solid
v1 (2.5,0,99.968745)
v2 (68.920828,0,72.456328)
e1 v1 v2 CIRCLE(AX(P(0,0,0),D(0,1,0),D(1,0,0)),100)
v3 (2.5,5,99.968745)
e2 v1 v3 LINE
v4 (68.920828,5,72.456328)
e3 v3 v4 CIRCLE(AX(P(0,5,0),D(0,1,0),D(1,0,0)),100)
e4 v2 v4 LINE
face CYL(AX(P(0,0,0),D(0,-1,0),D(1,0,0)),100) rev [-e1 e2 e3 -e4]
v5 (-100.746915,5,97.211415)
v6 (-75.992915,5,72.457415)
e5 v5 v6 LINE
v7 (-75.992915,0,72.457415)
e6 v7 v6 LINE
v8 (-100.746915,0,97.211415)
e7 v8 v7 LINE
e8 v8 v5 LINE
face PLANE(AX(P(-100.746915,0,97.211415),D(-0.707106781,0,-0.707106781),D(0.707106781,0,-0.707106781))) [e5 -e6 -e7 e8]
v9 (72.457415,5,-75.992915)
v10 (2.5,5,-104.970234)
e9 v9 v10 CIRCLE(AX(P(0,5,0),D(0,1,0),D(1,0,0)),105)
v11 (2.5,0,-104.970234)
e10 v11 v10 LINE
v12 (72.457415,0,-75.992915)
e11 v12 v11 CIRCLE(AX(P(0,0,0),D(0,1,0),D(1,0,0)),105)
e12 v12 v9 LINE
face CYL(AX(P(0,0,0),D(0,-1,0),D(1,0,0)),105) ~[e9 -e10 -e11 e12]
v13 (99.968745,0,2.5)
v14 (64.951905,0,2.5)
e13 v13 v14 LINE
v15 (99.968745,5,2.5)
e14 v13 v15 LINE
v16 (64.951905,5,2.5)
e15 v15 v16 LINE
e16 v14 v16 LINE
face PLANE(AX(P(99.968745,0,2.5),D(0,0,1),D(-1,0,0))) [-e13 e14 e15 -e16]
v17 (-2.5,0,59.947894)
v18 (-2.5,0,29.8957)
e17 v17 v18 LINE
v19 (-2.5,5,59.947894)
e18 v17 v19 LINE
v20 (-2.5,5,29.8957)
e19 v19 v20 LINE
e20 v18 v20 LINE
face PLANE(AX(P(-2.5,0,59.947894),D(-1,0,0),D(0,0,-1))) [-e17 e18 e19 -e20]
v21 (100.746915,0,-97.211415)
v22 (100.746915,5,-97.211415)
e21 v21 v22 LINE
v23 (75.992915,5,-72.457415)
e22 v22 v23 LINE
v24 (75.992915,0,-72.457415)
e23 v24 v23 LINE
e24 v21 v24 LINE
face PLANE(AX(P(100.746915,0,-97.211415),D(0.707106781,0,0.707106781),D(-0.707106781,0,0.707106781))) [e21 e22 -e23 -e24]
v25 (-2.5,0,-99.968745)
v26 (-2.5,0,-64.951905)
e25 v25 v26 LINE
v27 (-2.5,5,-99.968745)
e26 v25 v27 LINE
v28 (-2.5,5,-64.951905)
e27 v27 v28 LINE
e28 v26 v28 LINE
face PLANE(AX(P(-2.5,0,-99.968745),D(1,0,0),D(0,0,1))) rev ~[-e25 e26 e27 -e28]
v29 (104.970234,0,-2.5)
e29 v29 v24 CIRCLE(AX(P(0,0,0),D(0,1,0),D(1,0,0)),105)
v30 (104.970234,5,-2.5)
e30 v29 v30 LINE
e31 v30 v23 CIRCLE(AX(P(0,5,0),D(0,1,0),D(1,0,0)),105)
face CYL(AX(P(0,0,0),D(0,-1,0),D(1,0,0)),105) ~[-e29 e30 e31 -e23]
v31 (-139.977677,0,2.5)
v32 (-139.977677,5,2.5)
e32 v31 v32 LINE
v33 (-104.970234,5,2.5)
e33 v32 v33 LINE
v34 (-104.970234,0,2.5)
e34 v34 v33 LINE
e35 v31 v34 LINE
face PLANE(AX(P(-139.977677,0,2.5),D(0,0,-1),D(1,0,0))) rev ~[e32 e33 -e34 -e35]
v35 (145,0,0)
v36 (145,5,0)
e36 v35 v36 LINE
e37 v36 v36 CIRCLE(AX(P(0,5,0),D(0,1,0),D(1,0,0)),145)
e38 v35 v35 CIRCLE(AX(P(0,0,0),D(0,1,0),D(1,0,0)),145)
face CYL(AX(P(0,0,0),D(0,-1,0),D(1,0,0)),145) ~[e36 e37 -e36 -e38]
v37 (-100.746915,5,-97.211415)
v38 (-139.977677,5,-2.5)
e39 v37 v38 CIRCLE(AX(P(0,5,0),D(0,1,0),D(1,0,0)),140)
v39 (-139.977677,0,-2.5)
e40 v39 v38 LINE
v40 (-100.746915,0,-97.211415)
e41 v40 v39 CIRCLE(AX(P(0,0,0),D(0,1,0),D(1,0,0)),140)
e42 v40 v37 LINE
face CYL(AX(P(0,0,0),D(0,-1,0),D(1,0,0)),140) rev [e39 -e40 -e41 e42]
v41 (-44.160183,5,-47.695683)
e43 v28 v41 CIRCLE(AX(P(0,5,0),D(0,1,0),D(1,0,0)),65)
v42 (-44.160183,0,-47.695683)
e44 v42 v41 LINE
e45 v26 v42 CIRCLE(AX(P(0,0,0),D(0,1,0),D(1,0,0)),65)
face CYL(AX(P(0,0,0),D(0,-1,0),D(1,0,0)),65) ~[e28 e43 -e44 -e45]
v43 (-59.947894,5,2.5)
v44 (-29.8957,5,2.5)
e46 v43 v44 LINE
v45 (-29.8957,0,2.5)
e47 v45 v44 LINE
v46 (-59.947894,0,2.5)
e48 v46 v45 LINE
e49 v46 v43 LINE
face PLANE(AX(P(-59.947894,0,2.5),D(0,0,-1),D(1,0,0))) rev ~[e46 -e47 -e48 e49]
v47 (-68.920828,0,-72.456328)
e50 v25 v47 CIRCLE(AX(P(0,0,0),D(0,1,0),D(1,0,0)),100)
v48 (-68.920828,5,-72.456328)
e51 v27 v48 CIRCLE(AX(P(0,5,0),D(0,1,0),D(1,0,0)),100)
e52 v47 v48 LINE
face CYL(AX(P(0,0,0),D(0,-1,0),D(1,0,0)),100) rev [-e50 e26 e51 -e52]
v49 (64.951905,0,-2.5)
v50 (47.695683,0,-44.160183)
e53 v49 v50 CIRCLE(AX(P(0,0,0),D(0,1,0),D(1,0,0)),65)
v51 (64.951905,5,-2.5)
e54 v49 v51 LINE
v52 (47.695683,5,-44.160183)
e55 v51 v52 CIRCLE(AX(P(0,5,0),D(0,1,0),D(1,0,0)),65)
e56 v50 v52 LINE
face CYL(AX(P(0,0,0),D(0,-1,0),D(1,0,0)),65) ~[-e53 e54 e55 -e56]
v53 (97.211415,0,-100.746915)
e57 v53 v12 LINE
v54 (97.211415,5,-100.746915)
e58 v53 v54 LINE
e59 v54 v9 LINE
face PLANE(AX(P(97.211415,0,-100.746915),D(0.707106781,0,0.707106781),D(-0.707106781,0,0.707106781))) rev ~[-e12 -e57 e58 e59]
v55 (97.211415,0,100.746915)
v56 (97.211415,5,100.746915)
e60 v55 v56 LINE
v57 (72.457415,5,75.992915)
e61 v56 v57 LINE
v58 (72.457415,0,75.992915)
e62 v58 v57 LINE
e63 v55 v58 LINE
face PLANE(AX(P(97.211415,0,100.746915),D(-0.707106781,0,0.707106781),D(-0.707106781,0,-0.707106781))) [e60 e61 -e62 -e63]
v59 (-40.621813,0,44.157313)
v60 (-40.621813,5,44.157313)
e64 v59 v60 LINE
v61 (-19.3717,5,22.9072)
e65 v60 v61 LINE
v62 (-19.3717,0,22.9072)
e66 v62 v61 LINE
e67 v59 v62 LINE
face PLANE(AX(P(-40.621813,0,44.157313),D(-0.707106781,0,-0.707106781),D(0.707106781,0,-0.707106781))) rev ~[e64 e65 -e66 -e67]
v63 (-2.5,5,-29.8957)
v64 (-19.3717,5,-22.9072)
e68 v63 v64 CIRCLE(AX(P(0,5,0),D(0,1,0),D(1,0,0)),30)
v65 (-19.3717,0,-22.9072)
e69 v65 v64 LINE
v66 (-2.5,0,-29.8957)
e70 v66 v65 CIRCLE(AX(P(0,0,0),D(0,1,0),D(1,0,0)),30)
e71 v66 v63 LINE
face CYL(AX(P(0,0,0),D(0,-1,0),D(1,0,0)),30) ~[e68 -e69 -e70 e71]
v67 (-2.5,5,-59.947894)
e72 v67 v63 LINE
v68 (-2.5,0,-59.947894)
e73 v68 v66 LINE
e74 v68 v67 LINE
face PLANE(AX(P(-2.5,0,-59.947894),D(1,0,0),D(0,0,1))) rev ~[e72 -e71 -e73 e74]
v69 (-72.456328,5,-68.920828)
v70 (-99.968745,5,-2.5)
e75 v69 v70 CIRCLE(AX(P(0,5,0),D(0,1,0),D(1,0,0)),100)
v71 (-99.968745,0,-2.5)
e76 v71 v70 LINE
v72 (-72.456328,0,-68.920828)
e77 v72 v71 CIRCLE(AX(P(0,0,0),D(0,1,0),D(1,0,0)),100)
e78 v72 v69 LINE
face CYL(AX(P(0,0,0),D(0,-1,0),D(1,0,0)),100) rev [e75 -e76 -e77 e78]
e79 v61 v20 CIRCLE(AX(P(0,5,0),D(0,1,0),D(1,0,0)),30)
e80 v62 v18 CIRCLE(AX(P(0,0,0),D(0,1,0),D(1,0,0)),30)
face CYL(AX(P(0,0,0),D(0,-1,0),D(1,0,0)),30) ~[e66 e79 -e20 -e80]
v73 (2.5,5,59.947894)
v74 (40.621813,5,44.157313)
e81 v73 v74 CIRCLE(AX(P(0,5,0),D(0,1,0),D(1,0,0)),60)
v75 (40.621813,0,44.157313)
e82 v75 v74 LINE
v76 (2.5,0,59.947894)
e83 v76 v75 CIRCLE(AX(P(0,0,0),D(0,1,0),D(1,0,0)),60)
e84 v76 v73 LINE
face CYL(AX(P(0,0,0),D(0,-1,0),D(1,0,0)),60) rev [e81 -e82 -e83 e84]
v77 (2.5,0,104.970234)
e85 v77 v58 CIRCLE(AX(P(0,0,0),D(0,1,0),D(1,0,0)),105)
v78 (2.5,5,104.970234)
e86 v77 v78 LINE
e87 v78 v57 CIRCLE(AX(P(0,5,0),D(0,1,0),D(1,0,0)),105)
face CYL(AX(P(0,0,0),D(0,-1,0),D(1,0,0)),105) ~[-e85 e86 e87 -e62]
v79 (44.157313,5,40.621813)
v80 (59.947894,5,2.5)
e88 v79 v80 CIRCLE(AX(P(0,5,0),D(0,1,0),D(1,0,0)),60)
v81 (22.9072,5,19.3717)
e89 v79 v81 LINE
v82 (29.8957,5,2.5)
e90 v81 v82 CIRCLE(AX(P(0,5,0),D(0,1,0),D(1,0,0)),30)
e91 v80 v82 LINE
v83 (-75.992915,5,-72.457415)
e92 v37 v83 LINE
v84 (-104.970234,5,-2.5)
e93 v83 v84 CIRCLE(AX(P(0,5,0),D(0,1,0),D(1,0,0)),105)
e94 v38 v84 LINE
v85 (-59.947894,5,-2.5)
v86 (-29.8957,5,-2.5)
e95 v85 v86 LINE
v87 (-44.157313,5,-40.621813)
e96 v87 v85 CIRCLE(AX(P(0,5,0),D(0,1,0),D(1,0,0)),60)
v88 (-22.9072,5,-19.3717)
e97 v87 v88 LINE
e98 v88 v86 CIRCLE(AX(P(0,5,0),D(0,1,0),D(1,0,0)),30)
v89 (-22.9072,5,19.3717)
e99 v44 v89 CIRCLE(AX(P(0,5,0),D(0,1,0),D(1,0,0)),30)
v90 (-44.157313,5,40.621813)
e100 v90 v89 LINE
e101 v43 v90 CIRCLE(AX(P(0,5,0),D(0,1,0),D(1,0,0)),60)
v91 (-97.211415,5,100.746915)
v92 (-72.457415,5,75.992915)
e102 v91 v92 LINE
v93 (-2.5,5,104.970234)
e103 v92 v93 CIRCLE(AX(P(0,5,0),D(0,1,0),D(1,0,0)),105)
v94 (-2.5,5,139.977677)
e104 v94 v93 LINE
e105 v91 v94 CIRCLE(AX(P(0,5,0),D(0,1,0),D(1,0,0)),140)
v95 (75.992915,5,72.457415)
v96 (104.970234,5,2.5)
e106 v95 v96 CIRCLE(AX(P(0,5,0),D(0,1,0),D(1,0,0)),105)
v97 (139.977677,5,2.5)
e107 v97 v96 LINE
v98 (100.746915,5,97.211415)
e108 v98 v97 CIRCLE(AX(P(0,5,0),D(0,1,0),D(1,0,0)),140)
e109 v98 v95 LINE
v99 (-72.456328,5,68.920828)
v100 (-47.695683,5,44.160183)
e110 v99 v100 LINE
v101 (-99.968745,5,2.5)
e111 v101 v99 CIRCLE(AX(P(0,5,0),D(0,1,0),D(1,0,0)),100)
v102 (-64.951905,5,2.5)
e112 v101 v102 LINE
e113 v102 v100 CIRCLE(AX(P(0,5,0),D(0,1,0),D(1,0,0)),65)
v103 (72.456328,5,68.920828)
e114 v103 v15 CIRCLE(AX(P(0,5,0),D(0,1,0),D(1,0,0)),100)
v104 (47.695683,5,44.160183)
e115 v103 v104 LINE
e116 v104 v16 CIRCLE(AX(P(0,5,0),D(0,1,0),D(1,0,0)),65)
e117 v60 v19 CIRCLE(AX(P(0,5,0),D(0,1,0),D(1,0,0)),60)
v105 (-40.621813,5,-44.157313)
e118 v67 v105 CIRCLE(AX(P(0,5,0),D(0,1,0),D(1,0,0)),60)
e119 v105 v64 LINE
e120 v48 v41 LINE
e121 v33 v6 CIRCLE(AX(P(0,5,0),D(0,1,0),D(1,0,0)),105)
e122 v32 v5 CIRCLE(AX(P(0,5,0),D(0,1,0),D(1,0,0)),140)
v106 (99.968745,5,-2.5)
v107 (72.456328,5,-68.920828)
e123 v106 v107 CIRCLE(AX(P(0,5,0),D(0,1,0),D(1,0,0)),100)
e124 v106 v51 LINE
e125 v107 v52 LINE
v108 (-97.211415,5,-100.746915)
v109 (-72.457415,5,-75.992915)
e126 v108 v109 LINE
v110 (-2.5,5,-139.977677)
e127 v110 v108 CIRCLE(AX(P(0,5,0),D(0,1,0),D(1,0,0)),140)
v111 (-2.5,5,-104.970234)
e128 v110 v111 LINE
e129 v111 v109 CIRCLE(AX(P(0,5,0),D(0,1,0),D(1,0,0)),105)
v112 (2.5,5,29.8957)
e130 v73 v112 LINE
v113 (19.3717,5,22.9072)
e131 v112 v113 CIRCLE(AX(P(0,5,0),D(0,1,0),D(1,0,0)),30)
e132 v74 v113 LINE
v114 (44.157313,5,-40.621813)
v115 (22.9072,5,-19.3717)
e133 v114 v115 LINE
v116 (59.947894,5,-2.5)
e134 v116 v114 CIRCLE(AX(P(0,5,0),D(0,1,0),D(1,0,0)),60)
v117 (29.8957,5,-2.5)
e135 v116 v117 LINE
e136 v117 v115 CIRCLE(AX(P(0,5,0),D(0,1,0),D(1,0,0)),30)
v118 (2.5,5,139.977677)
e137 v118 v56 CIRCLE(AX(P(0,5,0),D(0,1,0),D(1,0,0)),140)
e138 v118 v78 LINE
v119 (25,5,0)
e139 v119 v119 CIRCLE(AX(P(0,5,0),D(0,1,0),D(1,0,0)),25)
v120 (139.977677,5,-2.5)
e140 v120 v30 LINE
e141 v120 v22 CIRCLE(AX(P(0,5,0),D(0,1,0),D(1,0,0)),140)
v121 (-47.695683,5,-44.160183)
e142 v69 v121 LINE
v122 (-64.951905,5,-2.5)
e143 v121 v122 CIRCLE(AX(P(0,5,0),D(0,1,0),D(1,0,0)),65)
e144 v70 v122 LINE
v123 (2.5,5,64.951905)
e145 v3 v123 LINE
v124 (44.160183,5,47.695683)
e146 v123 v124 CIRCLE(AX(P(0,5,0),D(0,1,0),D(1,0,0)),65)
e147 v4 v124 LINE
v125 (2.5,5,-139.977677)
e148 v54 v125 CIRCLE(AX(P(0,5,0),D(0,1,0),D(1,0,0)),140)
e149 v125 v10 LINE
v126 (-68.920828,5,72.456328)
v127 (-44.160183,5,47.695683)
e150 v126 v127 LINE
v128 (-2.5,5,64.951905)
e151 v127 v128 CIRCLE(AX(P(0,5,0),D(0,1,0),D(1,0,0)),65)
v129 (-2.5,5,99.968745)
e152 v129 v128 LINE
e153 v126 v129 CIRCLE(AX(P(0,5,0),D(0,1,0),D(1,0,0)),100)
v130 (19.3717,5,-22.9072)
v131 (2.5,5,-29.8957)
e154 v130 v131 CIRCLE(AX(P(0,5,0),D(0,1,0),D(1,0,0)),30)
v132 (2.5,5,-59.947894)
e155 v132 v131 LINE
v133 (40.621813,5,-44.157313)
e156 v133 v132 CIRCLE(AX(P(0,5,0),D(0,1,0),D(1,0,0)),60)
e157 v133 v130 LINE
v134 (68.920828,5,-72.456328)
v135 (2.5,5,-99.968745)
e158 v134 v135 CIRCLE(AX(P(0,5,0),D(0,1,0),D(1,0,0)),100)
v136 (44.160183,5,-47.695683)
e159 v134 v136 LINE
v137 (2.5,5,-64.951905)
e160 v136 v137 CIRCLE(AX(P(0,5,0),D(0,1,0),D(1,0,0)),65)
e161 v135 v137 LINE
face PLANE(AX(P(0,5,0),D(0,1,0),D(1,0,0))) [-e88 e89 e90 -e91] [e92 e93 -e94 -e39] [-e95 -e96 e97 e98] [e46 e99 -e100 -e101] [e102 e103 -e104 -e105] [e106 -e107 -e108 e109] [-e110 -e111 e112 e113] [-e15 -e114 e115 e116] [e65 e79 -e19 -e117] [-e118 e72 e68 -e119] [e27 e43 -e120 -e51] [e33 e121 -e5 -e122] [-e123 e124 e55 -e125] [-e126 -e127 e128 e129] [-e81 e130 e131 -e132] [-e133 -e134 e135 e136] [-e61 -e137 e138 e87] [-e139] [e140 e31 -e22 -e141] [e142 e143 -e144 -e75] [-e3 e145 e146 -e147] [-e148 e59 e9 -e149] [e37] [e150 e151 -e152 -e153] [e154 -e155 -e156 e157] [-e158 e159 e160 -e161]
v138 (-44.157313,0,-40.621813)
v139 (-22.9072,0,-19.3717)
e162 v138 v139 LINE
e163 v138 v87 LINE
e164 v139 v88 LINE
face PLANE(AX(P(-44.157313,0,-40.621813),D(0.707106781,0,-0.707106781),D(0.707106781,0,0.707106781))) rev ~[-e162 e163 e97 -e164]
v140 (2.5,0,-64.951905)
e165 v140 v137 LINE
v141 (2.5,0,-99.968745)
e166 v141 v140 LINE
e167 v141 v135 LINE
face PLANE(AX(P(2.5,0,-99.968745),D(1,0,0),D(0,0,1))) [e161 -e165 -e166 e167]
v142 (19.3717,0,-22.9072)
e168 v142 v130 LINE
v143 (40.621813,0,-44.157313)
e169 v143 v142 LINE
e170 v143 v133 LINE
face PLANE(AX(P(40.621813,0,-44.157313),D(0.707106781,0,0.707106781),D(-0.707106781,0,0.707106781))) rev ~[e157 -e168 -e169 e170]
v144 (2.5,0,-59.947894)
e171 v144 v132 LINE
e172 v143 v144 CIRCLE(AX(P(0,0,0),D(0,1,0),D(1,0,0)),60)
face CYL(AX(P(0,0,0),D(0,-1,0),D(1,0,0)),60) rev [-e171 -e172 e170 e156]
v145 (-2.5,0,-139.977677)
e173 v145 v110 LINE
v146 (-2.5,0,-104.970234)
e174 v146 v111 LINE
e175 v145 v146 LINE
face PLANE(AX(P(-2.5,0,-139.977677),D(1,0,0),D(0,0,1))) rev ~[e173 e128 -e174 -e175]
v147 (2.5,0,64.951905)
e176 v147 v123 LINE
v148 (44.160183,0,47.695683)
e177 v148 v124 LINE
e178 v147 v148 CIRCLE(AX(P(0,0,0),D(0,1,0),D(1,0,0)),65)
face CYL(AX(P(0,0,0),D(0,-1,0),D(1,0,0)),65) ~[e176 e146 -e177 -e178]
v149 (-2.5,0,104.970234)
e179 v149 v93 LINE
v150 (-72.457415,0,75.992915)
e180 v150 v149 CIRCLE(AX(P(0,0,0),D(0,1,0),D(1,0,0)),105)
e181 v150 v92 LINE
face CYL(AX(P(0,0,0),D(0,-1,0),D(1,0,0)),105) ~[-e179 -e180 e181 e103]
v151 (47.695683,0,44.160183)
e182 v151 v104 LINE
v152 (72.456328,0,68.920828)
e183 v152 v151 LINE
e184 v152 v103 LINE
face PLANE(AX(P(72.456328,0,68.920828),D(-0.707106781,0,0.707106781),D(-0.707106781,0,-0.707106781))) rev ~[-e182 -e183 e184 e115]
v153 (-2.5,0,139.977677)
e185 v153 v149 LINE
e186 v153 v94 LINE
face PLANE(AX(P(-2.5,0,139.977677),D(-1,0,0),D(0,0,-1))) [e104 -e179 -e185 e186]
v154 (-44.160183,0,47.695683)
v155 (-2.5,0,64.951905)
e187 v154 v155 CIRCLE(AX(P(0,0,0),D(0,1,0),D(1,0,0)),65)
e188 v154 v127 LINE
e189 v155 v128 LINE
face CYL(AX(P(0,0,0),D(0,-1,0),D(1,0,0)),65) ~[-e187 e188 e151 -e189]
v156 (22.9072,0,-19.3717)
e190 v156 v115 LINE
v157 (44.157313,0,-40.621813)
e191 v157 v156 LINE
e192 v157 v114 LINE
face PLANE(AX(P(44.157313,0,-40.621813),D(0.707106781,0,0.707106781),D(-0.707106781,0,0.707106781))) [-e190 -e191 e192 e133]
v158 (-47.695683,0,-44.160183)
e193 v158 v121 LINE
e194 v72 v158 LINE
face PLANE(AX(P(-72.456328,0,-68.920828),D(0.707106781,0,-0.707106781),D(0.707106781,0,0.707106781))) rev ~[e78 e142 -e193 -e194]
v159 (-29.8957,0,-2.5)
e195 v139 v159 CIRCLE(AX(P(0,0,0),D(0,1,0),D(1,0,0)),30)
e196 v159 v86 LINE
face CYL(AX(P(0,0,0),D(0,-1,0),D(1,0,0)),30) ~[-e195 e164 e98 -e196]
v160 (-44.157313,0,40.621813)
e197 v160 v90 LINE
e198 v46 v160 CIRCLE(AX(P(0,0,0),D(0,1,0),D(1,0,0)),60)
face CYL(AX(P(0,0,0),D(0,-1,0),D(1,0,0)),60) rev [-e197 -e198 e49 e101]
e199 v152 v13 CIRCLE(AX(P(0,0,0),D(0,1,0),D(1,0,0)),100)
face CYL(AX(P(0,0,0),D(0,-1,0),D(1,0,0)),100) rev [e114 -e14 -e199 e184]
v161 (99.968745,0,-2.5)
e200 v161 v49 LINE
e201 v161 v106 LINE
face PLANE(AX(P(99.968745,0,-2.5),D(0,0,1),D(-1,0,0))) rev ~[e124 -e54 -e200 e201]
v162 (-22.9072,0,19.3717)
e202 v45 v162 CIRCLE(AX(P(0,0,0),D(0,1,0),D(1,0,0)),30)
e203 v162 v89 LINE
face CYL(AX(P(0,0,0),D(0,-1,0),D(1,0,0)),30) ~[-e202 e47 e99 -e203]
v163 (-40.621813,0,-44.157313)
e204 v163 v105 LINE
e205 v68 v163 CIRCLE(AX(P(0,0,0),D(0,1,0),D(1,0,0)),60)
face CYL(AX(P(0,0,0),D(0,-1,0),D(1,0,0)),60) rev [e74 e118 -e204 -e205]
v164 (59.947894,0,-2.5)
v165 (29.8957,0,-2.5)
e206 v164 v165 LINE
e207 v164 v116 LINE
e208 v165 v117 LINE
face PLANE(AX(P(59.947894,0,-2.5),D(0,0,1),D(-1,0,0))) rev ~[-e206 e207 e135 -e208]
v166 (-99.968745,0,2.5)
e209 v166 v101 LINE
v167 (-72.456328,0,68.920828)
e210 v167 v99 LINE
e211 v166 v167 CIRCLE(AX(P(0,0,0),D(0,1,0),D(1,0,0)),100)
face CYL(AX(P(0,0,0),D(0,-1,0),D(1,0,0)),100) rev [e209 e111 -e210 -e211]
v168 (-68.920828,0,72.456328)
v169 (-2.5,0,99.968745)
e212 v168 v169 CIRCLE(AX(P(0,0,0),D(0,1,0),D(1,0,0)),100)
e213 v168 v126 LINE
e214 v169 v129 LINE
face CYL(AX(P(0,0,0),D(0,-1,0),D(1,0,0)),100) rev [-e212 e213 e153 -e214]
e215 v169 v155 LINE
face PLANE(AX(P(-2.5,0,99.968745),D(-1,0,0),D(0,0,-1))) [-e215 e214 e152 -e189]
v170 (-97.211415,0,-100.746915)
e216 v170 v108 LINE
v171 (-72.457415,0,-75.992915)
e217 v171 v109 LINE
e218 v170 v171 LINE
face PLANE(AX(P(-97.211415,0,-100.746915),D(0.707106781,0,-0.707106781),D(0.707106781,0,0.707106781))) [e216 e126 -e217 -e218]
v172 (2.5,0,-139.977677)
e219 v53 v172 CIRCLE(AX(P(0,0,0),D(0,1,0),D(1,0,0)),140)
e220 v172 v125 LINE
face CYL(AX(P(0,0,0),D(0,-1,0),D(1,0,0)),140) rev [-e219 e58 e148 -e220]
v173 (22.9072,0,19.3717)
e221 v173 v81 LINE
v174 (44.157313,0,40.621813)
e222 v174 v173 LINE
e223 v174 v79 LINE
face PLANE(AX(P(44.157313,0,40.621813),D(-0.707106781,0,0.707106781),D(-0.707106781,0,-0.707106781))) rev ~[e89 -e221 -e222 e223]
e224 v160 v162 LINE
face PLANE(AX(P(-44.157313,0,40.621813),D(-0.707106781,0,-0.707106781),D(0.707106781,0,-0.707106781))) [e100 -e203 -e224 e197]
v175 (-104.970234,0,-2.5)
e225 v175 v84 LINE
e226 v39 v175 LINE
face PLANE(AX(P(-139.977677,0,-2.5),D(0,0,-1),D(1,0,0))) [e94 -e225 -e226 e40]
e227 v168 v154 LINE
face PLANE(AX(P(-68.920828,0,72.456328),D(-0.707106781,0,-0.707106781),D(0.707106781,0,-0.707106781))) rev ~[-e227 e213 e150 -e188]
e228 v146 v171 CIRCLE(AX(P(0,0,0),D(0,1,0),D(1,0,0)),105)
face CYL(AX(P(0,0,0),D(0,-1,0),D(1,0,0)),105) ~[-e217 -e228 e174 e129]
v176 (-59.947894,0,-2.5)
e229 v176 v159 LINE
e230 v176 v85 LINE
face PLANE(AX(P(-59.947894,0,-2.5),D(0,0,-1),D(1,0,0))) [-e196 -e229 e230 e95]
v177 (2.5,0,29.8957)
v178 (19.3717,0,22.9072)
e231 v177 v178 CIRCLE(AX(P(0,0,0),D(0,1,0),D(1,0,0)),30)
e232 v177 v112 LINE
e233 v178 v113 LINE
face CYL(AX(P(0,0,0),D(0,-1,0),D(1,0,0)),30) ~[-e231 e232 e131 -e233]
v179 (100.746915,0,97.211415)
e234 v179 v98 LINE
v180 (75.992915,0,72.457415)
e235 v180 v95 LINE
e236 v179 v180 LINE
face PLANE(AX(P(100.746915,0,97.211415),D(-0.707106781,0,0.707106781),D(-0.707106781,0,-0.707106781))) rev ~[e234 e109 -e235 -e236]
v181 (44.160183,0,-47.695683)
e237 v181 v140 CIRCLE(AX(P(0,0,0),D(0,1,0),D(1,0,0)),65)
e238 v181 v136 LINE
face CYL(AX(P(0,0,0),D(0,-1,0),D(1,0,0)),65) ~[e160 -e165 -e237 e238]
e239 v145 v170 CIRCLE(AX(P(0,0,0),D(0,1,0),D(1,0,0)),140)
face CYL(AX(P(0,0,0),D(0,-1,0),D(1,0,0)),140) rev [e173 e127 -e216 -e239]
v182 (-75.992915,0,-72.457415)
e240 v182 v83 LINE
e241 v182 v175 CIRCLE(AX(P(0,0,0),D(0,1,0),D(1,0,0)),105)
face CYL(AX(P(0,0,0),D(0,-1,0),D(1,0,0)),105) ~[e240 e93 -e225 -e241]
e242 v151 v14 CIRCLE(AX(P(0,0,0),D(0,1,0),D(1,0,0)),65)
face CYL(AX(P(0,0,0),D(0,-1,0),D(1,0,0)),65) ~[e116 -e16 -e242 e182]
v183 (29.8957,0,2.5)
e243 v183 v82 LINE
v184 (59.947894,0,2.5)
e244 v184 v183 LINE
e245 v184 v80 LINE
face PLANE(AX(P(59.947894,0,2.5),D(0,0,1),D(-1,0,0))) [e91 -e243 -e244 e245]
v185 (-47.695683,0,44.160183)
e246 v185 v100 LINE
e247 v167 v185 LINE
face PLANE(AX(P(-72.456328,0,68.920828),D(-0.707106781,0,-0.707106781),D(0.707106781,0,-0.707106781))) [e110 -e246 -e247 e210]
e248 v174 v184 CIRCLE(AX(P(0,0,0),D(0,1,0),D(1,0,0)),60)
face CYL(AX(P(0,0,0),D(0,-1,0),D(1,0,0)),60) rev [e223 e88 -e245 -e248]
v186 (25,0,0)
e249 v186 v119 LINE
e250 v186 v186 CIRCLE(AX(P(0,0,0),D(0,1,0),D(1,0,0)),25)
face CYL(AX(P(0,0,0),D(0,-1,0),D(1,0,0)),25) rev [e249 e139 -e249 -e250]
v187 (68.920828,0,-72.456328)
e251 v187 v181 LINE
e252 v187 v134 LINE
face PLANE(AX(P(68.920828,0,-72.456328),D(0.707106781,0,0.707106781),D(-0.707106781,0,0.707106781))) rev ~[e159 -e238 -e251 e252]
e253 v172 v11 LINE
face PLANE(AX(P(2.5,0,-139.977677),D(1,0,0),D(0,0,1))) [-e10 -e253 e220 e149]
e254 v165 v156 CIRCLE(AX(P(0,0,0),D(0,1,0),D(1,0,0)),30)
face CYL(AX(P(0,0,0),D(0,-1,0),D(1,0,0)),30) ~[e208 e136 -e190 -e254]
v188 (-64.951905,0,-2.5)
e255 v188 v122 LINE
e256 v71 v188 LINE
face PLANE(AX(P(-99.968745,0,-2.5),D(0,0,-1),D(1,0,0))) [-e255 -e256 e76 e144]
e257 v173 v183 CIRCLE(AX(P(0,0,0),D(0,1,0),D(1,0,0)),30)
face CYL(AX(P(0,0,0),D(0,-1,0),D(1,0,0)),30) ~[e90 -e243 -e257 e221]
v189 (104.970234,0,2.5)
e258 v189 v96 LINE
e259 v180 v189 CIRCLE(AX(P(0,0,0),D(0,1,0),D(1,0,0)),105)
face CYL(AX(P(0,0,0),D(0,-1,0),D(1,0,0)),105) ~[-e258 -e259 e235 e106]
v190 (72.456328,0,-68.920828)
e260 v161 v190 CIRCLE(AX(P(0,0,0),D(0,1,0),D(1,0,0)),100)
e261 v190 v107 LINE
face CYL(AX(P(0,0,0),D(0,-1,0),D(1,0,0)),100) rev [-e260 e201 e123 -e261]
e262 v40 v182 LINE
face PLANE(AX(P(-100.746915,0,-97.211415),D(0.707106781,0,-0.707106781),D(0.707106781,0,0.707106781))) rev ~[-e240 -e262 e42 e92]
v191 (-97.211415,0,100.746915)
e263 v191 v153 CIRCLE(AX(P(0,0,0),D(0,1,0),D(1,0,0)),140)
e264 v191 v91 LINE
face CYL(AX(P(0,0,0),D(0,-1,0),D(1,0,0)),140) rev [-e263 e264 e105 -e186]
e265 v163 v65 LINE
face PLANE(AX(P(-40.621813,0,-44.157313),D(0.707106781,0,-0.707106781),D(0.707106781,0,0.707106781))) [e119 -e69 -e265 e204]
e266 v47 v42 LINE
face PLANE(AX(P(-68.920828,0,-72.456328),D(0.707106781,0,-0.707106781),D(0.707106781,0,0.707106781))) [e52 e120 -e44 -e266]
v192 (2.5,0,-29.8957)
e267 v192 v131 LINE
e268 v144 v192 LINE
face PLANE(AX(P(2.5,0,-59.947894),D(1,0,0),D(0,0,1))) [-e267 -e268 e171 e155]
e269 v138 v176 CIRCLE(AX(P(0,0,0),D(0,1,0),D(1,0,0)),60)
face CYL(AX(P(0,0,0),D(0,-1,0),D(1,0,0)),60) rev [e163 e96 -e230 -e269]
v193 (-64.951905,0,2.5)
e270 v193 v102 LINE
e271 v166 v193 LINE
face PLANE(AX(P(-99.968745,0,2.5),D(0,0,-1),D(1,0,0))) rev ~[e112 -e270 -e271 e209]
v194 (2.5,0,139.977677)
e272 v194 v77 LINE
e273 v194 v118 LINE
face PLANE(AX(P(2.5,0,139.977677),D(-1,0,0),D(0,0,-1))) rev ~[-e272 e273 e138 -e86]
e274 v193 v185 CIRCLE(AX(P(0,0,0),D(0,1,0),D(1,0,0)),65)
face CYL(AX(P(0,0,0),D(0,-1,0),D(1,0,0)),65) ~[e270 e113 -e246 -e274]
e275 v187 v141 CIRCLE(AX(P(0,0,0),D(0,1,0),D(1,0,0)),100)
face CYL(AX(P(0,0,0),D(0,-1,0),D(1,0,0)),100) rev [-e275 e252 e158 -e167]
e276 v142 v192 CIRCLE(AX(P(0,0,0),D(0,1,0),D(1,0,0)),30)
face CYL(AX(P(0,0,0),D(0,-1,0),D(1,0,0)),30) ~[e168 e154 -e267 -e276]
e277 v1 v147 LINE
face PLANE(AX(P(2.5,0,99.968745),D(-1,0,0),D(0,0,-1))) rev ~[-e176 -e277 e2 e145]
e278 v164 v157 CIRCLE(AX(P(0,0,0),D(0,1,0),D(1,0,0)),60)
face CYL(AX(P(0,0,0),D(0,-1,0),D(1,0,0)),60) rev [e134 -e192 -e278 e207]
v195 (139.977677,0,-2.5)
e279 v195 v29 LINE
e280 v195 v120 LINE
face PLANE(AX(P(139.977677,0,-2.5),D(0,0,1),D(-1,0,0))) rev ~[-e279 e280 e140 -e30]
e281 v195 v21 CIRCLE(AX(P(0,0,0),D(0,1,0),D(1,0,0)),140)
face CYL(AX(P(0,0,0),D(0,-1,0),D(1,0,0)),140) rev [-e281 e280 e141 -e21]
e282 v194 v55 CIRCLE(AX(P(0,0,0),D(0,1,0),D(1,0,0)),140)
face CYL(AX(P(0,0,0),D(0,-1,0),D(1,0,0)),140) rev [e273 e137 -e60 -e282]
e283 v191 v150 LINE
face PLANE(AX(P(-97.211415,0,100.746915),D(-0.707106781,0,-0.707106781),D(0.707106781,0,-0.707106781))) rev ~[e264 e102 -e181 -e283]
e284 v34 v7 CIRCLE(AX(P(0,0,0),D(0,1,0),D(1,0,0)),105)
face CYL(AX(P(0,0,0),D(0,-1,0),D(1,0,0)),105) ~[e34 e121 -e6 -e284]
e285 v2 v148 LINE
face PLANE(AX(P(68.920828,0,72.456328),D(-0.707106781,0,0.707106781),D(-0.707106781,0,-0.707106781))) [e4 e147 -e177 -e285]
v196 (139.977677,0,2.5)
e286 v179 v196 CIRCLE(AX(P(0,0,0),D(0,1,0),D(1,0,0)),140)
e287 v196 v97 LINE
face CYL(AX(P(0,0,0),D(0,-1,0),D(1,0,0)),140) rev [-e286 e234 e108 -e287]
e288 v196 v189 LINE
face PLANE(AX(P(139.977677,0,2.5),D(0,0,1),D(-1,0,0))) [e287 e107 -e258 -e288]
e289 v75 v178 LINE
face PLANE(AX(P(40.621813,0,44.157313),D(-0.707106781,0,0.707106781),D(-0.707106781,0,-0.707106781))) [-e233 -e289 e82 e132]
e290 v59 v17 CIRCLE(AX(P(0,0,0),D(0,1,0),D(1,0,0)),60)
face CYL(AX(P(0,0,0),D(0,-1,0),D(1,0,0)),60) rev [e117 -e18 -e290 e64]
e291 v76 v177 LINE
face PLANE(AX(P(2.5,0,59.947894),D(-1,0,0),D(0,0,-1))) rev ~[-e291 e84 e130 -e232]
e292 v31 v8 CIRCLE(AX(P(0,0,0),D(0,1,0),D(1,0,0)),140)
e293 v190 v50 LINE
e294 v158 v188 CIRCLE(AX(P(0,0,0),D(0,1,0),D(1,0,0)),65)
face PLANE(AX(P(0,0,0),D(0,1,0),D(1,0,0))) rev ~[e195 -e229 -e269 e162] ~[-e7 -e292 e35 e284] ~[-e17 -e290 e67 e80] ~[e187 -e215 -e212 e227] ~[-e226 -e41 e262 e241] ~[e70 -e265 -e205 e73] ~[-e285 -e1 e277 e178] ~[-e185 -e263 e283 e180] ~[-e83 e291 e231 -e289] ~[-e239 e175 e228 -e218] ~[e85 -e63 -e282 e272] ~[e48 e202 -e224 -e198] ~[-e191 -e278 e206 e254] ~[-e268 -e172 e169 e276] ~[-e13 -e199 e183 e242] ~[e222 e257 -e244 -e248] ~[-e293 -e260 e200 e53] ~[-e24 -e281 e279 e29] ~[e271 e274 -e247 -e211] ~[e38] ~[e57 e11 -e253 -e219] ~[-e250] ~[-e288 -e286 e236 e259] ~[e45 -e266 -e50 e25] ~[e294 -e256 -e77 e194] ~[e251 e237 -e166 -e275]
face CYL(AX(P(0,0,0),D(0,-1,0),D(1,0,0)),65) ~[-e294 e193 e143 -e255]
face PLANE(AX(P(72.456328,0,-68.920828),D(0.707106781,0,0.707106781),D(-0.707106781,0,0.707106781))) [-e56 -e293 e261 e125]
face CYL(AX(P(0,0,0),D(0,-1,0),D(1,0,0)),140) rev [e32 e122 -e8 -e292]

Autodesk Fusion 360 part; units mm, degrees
sketch "Sketch1" plane through (0, 0, 0) normal (0, 1, 0) x (1, 0, 0)
  circle A0 centre (0, 0) radius 145
  circle A1 centre (0, 0) radius 140
  circle A2 centre (0, 0) radius 25
  circle A3 centre (0, 0) radius 30
  line L0 (-2.5, 140) -> (-2.5, 29.8957)
  line L1 (2.5, 140) -> (2.5, 29.8957)
  circle A4 centre (0, 0) radius 105
  circle A5 centre (0, 0) radius 100
  circle A6 centre (0, 0) radius 65
  circle A7 centre (0, 0) radius 60
  line L2 (-97.2272, 100.7627) -> (-19.3717, 22.9072)
  line L3 (-100.7627, 97.2272) -> (-22.9072, 19.3717)
  line L4 (-140, 2.5) -> (-29.8957, 2.5)
  line L5 (-140, -2.5) -> (-29.8957, -2.5)
  line L6 (-100.7627, -97.2272) -> (-22.9072, -19.3717)
  line L7 (-97.2272, -100.7627) -> (-19.3717, -22.9072)
  line L8 (-2.5, -140) -> (-2.5, -29.8957)
  line L9 (2.5, -140) -> (2.5, -29.8957)
  line L10 (97.2272, -100.7627) -> (19.3717, -22.9072)
  line L11 (100.7627, -97.2272) -> (22.9072, -19.3717)
  line L12 (140, -2.5) -> (29.8957, -2.5)
  line L13 (140, 2.5) -> (29.8957, 2.5)
  line L14 (100.7627, 97.2272) -> (22.9072, 19.3717)
  line L15 (97.2272, 100.7627) -> (19.3717, 22.9072)
  dimension "d1" = 290
  dimension "d2" = 280
  dimension "d3" = 50
  dimension "d4" = 60
  dimension "d7" = 210
  dimension "d8" = 130
  dimension "d10" = 360
extrude "Extrude1" add sketch "Sketch1" along normal blind 5 contours A0 | A1 A4 L12 L13 | A1 A4 L14 L15 | A4 A5 L13 L14 | A4 A5 L12 L13 | A1 A4 L10 L11 | A4 A5 L11 L12 | A4 A5 L14 L15 | A5 A6 L12 L13 | A4 A5 L10 L11 | A1 L0 L1 A4 | L1 A4 A5 L15 | A5 A6 L14 L15 | A6 A7 L13 L14 | A6 A7 L12 L13 | A1 A4 L8 L9 | A4 A5 L9 L10 | A5 A6 L10 L11 | A6 A7 L11 L12 | L0 L1 A4 A5 | A6 A7 L14 L15 | A3 A7 L12 L13 | A4 A5 L8 L9 | A6 A7 L10 L11 | A1 A4 L2 L3 | L0 A4 A5 L2 | L0 L1 A5 A6 | L1 A6 A7 L15 | A3 A7 L14 L15 | A3 | A1 A4 L6 L7 | A4 A5 L7 L8 | A5 A6 L8 L9 | A6 A7 L9 L10 | A3 A7 L10 L11 | A4 A5 L2 L3 | L0 L1 A6 A7 | A4 A5 L6 L7 | A6 A7 L8 L9 | A1 A4 L4 L5 | A4 A5 L3 L4 | A5 A6 L2 L3 | L0 A6 A7 L2 | A3 L0 L1 A7 | A4 A5 L5 L6 | A5 A6 L6 L7 | A6 A7 L7 L8 | A3 A7 L8 L9 | A4 A5 L4 L5 | A6 A7 L2 L3 | A6 A7 L6 L7 | A5 A6 L4 L5 | A6 A7 L3 L4 | A3 A7 L2 L3 | A6 A7 L5 L6 | A3 A7 L6 L7 | A6 A7 L4 L5 | A3 A7 L4 L5
